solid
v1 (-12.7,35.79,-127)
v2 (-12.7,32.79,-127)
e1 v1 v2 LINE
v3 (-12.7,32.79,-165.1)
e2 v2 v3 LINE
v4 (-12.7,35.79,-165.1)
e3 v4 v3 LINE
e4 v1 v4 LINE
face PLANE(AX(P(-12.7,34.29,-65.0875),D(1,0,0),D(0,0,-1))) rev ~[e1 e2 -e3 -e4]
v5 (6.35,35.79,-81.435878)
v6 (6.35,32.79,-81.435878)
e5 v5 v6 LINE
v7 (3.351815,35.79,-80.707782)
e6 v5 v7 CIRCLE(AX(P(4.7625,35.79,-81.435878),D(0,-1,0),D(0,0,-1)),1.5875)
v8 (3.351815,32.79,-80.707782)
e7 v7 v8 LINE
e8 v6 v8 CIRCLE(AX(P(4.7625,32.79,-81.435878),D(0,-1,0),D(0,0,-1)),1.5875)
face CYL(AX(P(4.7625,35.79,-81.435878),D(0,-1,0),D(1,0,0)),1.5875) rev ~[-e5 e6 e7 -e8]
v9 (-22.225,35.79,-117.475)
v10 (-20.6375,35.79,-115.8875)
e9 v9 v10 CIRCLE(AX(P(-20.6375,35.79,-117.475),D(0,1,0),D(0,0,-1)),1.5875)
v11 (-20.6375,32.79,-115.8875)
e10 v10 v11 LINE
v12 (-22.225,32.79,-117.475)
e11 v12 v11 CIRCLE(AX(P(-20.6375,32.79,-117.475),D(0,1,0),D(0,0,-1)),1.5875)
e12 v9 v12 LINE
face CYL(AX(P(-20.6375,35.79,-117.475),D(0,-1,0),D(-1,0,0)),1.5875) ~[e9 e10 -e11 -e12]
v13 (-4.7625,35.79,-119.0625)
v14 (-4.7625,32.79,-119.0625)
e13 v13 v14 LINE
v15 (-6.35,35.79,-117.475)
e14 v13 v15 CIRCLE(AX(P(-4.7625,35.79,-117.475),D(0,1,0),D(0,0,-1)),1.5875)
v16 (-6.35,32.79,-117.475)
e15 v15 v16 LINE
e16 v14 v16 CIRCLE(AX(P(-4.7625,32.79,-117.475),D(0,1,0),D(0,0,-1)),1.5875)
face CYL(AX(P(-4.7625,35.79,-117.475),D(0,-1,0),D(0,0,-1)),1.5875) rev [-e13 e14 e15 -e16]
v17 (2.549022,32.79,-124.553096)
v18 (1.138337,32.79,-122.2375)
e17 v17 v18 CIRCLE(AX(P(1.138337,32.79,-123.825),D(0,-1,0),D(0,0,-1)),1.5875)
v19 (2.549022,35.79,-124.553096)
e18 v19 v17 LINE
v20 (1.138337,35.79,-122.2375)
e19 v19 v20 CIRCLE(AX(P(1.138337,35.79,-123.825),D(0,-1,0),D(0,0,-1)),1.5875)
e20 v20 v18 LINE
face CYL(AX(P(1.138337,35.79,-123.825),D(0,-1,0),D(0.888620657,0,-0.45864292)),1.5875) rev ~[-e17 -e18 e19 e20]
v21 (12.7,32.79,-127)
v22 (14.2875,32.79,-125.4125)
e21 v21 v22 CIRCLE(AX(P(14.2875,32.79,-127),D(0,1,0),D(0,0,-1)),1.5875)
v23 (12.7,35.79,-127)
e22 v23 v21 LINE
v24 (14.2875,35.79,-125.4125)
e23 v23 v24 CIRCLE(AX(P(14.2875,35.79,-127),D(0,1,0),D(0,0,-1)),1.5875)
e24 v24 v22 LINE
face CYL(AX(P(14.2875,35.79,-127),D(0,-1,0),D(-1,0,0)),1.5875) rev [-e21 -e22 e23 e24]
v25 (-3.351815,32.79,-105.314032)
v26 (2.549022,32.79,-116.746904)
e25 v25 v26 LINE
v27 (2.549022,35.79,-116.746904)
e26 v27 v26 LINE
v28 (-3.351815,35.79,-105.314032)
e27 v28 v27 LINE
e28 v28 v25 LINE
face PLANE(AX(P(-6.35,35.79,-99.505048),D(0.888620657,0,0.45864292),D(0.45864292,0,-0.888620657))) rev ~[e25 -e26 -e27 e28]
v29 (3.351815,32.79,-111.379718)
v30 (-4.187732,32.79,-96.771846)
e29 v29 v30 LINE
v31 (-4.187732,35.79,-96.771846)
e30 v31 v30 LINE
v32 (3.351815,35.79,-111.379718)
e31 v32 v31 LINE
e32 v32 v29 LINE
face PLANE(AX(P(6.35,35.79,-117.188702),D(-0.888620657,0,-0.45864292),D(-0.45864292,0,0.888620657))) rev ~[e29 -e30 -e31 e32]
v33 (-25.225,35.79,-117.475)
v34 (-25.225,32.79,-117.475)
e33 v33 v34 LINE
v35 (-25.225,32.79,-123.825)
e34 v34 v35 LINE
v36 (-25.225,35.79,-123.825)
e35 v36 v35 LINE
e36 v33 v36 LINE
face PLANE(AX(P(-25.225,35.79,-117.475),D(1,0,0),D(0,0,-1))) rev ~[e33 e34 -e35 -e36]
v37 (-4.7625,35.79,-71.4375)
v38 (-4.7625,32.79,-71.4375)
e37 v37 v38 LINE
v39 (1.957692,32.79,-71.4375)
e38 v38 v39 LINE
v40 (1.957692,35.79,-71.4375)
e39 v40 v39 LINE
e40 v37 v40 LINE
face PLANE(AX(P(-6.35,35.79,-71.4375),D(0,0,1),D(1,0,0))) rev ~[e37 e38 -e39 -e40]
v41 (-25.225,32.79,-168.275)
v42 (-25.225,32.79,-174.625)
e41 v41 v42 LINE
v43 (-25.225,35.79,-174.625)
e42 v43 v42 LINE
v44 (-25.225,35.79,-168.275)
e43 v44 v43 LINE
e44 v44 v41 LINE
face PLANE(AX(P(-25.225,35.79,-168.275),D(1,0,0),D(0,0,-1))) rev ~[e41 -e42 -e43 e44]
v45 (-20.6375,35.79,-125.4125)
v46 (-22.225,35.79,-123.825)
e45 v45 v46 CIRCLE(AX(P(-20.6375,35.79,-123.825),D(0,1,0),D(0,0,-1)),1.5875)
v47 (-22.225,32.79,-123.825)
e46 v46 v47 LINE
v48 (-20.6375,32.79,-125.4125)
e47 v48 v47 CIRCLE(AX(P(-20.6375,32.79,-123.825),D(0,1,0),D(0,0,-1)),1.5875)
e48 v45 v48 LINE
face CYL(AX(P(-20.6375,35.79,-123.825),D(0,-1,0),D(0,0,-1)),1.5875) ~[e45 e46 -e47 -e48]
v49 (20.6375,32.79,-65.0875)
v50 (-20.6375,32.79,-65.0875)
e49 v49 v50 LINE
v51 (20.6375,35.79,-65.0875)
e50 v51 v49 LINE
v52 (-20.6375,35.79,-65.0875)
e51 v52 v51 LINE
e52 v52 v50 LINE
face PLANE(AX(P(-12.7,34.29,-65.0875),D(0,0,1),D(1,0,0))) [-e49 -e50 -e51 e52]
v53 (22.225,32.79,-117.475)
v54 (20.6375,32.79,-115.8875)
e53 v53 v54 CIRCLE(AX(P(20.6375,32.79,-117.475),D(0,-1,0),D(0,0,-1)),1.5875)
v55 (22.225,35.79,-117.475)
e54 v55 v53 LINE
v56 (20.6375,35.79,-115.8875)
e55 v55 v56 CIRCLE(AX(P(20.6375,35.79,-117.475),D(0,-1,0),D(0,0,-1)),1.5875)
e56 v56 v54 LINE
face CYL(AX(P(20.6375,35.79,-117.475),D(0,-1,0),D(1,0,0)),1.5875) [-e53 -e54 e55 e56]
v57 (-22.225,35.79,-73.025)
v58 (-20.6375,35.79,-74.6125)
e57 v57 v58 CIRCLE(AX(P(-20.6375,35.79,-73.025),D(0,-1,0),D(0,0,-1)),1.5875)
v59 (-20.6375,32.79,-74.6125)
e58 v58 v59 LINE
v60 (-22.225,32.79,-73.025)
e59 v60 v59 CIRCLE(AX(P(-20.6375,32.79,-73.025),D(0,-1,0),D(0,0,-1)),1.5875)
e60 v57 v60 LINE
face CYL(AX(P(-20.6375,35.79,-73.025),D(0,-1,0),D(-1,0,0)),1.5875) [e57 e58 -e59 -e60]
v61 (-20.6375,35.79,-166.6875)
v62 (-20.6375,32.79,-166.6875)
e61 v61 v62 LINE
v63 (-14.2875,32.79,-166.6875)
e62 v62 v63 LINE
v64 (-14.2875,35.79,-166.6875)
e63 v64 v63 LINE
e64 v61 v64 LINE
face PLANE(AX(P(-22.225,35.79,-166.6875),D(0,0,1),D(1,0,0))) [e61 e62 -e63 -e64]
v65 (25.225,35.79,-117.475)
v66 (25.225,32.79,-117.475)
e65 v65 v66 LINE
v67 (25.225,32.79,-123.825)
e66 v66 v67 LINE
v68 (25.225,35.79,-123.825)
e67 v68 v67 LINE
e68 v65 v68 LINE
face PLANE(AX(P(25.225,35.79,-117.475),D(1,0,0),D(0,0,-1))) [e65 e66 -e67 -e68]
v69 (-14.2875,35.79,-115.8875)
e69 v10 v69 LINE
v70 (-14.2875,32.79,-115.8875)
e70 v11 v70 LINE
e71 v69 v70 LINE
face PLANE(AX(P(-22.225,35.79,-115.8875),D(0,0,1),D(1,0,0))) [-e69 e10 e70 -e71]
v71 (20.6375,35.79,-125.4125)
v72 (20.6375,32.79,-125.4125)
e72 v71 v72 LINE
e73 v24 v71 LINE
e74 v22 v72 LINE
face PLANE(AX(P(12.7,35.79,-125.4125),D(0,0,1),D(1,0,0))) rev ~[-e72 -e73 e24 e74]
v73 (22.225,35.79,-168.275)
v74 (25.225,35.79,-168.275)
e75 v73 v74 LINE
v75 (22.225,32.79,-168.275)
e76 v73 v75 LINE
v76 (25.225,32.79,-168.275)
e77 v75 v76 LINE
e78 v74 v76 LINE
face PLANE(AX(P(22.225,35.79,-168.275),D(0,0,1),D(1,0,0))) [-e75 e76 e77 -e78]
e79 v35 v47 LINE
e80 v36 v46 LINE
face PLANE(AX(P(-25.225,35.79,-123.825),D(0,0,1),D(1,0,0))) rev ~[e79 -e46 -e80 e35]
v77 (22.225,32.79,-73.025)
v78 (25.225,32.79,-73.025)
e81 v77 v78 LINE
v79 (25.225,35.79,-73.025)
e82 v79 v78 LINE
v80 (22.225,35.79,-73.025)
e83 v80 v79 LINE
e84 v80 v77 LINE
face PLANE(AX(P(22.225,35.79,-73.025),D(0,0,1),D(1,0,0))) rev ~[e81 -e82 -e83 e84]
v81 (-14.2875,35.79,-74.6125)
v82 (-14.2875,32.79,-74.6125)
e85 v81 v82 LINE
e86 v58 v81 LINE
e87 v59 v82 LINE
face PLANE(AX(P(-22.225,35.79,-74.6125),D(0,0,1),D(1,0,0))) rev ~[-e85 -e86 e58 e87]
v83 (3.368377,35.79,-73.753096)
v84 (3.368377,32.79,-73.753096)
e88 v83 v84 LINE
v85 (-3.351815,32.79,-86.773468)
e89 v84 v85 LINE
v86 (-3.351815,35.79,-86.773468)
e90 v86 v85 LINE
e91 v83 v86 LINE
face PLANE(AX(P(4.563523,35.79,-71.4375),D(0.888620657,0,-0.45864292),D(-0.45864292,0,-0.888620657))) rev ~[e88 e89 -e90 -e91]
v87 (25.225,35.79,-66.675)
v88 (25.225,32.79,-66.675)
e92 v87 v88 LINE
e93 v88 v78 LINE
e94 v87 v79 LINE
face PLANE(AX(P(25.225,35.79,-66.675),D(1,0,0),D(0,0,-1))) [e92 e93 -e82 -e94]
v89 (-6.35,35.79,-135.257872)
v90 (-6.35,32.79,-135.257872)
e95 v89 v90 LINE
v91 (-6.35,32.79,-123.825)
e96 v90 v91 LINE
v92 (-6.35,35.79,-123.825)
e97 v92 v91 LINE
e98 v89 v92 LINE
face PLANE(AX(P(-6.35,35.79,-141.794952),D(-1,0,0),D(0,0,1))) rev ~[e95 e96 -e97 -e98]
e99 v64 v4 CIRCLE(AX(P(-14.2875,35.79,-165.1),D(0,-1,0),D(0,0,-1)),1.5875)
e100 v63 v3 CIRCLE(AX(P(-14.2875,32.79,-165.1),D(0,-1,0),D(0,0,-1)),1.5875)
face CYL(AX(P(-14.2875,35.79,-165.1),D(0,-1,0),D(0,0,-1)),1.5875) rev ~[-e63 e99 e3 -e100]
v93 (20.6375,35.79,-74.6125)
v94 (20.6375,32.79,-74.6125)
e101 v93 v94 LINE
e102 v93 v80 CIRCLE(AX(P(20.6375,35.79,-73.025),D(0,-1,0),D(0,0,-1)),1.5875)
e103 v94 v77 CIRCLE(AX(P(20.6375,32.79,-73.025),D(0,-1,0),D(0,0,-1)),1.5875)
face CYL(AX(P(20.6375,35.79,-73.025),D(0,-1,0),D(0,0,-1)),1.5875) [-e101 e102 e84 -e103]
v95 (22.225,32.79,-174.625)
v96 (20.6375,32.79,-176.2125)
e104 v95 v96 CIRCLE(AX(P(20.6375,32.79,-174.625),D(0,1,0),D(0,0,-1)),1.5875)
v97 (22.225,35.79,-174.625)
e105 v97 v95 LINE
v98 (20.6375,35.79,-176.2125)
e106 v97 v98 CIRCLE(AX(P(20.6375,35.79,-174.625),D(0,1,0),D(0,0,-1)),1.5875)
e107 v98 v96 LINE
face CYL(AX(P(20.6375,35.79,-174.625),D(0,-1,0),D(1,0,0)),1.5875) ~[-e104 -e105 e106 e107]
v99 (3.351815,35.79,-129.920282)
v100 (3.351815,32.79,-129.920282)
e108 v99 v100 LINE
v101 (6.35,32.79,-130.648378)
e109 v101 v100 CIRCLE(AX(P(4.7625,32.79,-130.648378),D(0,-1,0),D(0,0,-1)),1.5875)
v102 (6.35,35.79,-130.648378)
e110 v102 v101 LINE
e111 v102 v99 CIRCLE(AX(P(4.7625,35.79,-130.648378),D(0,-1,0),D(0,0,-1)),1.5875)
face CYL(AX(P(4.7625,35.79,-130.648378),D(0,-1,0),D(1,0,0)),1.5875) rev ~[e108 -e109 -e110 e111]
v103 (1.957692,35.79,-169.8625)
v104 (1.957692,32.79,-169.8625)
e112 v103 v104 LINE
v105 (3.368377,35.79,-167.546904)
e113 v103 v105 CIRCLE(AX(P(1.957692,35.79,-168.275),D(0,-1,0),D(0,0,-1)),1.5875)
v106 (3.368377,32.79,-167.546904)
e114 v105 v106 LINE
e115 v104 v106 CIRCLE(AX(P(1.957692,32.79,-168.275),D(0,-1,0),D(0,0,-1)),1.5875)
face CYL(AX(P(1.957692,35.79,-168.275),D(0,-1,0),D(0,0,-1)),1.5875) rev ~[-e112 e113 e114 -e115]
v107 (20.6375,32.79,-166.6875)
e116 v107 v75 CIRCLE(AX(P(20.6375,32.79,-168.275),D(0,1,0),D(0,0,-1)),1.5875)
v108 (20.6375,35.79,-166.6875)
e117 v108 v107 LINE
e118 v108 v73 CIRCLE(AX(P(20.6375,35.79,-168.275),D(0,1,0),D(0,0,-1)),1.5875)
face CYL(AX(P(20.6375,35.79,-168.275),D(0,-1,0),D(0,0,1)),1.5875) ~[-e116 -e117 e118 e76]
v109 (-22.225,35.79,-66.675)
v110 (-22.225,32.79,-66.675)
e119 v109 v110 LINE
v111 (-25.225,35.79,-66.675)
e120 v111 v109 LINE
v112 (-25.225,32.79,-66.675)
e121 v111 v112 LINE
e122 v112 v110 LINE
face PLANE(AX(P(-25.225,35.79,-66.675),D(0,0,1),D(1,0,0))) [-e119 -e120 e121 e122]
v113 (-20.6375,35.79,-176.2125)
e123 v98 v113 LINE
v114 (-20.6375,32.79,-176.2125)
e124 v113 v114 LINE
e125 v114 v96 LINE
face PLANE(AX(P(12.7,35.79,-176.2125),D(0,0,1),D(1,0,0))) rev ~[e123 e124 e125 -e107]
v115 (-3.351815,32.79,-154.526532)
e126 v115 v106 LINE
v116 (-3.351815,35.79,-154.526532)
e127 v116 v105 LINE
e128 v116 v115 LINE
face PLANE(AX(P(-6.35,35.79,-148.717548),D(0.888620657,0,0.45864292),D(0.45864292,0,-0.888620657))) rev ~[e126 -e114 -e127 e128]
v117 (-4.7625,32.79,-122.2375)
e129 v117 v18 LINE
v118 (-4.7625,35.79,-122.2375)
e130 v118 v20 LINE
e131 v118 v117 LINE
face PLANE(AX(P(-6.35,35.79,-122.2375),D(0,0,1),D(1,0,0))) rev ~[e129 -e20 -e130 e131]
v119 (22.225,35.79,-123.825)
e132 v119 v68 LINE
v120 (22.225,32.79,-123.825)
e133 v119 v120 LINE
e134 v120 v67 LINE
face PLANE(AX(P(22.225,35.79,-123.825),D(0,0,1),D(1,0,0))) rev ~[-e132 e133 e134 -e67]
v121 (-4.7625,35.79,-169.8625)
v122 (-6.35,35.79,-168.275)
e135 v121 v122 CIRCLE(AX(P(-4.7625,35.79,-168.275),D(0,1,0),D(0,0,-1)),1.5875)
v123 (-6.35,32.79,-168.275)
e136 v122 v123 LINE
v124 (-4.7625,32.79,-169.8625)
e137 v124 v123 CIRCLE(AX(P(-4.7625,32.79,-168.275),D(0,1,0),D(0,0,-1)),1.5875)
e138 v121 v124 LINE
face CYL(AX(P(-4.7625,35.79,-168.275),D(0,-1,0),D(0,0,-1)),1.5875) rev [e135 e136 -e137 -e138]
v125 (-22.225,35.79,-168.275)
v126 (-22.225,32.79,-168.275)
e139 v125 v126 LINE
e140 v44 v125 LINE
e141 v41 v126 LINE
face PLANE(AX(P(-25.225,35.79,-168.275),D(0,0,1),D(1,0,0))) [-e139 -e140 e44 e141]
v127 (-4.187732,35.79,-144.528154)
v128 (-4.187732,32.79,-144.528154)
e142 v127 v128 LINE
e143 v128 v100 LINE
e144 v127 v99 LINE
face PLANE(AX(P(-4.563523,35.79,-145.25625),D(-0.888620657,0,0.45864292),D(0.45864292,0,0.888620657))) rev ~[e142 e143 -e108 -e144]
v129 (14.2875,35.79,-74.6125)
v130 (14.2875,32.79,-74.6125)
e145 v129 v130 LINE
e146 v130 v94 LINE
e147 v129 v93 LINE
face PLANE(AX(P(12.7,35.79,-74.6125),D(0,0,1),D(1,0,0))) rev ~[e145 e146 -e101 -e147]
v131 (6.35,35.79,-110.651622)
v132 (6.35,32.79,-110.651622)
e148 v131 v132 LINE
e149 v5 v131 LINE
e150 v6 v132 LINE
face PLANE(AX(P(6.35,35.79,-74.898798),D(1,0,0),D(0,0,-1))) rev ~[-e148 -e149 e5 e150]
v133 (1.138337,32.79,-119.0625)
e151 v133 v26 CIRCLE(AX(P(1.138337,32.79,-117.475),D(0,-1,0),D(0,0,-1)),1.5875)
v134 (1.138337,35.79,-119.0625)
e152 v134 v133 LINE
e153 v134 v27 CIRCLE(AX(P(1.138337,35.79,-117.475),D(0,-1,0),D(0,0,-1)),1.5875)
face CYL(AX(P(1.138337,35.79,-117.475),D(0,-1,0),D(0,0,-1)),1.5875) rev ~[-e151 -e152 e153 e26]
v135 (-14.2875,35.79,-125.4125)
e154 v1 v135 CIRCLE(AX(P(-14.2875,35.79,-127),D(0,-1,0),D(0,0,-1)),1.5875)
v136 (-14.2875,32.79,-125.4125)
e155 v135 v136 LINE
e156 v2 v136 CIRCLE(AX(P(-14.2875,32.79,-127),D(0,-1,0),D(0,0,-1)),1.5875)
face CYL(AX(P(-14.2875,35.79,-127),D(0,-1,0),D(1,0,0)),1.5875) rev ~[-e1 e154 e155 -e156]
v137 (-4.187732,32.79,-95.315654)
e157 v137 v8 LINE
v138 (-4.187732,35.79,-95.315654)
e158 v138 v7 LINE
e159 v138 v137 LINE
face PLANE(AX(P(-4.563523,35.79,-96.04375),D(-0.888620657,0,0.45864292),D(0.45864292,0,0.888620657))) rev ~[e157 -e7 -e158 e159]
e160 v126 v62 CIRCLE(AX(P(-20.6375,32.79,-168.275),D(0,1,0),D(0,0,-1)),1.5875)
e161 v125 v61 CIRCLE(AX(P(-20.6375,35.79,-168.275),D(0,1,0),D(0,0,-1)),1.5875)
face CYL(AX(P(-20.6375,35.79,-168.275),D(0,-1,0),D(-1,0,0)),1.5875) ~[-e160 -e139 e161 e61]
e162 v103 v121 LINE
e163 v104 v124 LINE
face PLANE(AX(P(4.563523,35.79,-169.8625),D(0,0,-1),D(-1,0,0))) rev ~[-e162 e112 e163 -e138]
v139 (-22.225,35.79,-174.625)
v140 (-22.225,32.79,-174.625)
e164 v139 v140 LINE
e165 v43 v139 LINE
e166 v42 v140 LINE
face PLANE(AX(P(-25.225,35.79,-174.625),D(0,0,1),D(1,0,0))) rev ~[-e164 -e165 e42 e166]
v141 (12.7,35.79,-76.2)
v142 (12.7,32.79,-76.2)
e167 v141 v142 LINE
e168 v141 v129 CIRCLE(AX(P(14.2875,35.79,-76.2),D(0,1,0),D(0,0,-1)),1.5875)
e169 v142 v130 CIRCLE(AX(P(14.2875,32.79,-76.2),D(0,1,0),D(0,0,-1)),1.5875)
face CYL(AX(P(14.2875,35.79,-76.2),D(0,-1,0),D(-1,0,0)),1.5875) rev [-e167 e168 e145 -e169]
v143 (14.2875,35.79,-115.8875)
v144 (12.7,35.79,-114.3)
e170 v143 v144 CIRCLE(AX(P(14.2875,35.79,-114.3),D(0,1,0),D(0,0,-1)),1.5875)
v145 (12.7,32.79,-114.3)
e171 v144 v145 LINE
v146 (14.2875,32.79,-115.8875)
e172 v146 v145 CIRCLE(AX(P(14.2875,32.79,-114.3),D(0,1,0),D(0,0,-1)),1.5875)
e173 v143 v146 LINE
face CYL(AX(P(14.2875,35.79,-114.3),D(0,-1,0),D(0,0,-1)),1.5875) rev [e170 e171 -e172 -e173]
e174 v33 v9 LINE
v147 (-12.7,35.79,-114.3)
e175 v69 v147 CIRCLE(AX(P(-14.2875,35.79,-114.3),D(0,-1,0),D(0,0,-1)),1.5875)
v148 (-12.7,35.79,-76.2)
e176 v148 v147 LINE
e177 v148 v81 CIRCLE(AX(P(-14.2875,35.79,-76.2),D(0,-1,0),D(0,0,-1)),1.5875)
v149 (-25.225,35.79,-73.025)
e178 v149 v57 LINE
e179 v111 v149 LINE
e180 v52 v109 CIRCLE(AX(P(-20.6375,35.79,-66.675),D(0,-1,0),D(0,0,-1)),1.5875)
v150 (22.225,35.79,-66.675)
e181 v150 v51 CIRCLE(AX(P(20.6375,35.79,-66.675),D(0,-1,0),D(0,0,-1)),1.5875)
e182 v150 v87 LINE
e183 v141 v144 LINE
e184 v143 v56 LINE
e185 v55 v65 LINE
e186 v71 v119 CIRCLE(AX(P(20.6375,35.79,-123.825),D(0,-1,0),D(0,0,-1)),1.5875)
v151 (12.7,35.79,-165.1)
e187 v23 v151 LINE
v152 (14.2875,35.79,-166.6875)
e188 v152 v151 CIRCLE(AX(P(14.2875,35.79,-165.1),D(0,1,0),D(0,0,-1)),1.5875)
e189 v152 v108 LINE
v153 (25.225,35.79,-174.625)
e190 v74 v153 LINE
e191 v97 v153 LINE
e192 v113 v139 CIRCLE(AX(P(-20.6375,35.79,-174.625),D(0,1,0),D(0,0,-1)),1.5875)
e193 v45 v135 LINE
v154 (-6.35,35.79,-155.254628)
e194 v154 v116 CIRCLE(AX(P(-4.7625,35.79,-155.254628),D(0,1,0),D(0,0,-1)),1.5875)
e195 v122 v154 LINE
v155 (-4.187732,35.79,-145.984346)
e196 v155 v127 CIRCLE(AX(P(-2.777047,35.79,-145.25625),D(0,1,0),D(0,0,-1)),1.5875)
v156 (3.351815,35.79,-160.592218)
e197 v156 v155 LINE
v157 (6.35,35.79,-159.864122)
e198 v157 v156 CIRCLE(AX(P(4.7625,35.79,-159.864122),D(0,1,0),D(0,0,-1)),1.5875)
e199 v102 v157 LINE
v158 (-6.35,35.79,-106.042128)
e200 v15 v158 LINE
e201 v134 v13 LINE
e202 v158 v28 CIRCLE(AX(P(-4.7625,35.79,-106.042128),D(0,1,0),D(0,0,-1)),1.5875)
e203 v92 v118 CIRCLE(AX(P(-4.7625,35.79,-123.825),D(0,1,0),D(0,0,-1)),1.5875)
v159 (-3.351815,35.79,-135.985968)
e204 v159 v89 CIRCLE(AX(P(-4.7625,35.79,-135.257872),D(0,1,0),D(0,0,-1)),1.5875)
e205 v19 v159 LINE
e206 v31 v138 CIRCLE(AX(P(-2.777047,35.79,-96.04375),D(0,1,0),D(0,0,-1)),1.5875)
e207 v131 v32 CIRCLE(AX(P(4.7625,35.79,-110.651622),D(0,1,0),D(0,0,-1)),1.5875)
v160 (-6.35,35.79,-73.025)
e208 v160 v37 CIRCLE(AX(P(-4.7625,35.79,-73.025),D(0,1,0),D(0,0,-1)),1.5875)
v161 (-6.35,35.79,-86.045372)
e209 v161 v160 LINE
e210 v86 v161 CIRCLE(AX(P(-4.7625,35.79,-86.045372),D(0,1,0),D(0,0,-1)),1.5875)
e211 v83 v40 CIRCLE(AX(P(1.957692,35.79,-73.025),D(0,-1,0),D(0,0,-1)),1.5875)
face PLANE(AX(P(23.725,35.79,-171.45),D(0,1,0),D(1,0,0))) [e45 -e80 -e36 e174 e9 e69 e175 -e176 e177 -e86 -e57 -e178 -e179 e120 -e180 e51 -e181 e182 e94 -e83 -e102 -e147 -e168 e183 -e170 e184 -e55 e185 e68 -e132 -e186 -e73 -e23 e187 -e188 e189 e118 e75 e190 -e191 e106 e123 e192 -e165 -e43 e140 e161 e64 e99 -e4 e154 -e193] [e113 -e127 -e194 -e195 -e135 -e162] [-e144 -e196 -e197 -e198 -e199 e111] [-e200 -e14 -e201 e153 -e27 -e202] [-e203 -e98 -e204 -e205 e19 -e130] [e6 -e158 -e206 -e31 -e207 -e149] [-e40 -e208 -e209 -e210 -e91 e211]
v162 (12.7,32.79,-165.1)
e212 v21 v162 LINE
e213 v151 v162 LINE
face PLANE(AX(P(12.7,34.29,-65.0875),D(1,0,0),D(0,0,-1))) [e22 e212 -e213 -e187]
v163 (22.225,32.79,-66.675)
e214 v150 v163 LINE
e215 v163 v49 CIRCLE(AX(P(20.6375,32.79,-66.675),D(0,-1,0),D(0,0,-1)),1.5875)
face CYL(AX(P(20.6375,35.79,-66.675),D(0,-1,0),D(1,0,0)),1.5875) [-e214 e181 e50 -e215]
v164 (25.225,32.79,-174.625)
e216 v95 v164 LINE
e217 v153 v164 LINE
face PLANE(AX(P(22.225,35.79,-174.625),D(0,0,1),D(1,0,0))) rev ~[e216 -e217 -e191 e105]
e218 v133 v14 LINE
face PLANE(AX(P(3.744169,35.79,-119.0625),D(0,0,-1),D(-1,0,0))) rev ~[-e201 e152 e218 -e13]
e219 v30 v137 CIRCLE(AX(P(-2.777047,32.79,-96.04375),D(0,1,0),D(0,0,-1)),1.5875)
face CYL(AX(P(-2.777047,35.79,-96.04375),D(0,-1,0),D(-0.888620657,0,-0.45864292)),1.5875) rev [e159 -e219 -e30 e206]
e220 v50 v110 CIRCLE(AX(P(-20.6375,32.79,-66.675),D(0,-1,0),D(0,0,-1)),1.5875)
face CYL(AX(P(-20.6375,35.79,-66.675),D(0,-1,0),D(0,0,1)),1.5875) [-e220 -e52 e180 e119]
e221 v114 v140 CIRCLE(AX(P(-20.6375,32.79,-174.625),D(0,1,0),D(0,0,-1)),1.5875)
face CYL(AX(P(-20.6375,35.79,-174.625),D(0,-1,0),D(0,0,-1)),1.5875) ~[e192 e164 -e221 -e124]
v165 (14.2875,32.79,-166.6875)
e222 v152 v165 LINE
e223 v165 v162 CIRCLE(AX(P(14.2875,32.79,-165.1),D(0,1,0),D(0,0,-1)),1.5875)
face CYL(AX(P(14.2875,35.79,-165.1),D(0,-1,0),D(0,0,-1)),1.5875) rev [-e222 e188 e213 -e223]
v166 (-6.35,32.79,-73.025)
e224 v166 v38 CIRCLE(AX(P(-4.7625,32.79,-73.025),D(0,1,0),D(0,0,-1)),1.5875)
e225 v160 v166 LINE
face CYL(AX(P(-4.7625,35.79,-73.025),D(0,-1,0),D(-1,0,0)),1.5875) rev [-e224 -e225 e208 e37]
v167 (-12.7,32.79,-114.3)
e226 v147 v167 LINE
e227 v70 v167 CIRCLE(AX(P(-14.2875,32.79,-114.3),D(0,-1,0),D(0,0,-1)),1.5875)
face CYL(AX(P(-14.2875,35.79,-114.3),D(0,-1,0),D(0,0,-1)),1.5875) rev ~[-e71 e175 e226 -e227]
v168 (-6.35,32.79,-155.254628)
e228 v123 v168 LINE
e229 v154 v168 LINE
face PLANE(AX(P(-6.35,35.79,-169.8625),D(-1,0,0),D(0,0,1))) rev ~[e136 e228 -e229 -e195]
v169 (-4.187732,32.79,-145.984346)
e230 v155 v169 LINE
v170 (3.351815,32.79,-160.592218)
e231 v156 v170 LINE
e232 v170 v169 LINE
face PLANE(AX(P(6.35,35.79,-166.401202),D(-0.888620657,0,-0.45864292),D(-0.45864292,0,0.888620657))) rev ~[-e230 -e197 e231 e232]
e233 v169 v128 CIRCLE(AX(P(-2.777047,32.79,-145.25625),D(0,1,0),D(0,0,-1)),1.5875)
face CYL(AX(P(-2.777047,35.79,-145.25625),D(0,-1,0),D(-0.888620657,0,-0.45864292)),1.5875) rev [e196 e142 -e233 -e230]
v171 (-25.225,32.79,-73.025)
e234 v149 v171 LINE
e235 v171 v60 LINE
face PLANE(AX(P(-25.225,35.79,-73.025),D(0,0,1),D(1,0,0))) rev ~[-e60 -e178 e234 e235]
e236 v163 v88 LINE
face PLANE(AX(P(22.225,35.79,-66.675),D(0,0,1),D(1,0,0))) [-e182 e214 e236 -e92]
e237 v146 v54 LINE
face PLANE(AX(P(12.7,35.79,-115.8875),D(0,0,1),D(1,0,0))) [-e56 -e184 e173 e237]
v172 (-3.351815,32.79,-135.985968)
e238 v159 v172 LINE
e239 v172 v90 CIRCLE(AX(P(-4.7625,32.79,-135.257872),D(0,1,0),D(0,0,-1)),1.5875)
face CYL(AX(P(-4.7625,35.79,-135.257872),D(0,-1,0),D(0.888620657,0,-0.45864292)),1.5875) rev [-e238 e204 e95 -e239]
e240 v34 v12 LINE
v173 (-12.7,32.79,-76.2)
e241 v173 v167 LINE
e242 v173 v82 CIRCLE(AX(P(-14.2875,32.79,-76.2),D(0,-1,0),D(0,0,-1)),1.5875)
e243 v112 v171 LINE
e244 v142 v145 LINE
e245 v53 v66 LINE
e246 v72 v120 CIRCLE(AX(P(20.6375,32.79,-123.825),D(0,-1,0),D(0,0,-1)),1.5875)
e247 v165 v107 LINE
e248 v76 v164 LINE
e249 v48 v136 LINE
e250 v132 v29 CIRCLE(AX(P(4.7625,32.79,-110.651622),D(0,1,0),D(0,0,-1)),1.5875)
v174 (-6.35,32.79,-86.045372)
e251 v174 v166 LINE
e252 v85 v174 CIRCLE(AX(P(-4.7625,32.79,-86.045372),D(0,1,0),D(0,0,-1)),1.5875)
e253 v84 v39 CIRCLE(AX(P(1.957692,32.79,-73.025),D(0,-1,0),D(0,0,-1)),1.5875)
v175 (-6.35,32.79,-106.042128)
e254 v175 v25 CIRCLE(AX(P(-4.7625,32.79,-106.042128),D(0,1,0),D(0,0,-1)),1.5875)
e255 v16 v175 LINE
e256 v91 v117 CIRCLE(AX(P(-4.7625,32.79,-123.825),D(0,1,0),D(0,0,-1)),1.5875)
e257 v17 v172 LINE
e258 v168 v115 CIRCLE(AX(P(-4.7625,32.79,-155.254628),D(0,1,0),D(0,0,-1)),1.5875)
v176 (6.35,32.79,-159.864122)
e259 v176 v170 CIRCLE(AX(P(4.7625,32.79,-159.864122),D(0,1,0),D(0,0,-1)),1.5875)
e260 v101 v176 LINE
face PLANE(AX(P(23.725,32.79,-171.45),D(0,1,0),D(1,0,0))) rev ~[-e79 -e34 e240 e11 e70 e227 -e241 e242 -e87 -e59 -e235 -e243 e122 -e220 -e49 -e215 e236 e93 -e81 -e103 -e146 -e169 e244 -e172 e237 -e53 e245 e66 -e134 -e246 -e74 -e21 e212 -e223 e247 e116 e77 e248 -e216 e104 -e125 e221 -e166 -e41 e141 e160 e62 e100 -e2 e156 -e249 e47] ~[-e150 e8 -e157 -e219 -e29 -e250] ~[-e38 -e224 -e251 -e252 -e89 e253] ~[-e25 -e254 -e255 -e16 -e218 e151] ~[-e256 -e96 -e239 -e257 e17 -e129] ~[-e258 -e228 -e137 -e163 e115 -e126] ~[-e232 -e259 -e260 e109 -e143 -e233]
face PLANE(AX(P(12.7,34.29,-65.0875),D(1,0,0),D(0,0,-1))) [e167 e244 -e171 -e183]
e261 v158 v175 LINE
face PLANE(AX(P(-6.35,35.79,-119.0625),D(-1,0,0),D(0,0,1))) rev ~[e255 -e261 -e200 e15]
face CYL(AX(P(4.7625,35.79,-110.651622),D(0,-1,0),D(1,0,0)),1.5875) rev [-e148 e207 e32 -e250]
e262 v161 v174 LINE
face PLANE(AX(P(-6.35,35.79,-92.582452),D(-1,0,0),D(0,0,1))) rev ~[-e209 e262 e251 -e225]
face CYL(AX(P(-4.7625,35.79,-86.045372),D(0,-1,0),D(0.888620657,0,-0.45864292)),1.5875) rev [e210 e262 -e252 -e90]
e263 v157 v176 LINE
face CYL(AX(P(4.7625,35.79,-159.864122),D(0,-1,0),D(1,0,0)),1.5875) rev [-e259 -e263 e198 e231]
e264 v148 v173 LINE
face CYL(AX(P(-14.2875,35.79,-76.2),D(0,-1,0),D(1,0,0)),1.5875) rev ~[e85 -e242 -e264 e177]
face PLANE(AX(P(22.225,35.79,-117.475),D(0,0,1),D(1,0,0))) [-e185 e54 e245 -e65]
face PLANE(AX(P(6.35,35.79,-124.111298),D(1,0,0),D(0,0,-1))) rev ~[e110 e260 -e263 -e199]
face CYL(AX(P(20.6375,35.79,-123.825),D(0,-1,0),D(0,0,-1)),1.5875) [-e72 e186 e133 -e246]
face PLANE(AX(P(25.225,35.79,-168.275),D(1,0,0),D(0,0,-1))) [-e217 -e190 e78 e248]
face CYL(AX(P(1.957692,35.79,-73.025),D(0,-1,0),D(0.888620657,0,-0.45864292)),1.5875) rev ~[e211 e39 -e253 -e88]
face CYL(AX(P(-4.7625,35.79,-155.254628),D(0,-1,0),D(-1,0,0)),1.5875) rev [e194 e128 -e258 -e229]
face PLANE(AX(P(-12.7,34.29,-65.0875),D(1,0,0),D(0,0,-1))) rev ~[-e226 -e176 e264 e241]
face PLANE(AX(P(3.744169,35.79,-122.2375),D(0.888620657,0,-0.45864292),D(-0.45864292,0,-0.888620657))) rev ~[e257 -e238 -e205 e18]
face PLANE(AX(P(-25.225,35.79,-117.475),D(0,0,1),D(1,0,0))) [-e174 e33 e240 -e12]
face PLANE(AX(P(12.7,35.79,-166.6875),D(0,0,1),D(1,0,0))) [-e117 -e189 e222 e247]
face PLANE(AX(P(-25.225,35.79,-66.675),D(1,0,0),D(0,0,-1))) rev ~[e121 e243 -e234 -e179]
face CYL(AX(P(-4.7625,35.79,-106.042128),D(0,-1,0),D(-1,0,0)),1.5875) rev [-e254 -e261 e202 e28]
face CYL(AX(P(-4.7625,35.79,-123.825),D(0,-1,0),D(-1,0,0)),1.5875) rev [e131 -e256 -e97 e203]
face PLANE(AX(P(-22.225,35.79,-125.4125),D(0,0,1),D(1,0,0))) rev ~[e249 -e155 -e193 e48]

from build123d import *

# Parameters (mm, degrees)
SKETCH1_W           = 25.4
SKETCH1_H           = 111.125
BOSS_EXTRUDE1_DEPTH = 1.5
SKETCH2_W           = 9.525
SKETCH2_H           = 9.525
BOSS_EXTRUDE2_DEPTH = 3
CUT_EXTRUDE1_DEPTH  = 178.633881287
FILLET1_R           = 1.5875
SKETCH5_W           = 3
SKETCH5_H           = 6.35
BOSS_EXTRUDE3_DEPTH = 3


with BuildPart() as part:
    # Sketch1 → Boss-Extrude1 (new, symmetric)
    with BuildSketch(Plane(origin=(0, 34.29, 0), x_dir=(1, 0, 0), z_dir=(0, 1, 0))):
        with Locations((0, 120.65)):
            Rectangle(SKETCH1_W, SKETCH1_H)
    extrude(amount=BOSS_EXTRUDE1_DEPTH, both=True)

    # Sketch2 → Boss-Extrude2 (add)
    with BuildSketch(Plane(origin=(0, 35.79, 0), x_dir=(1, 0, 0), z_dir=(0, 1, 0))):
        with Locations((17.4625, 171.45)):
            Rectangle(SKETCH2_W, SKETCH2_H)
        with Locations((-17.4625, 171.45)):
            Rectangle(SKETCH2_W, SKETCH2_H)
        with Locations((17.4625, 120.65)):
            Rectangle(SKETCH2_W, SKETCH2_H)
        with Locations((-17.4625, 120.65)):
            Rectangle(SKETCH2_W, SKETCH2_H)
        with Locations((17.4625, 69.85)):
            Rectangle(SKETCH2_W, SKETCH2_H)
        with Locations((-17.4625, 69.85)):
            Rectangle(SKETCH2_W, SKETCH2_H)
    extrude(amount=-BOSS_EXTRUDE2_DEPTH)

    # Sketch4 → Cut-Extrude1 (cut, through all)
    with BuildSketch(Plane(origin=(0, 35.79, 0), x_dir=(1, 0, 0), z_dir=(0, 1, 0))):
        Polygon((4.563523411, 71.4375), (-6.35, 92.58245161), (-6.35, 71.4375), align=None)
        Polygon((6.35, 74.89879839), (6.35, 117.18870161), (-4.563523411, 96.04375), align=None)
        Polygon((3.744168573, 119.0625), (-6.35, 119.0625), (-6.35, 99.50504839), align=None)
        Polygon((3.744168573, 122.2375), (-6.35, 141.79495161), (-6.35, 122.2375), align=None)
        Polygon((6.35, 124.11129839), (6.35, 166.40120161), (-4.563523411, 145.25625), align=None)
        Polygon((4.563523411, 169.8625), (-6.35, 169.8625), (-6.35, 148.71754839), align=None)
    extrude(amount=-CUT_EXTRUDE1_DEPTH, mode=Mode.SUBTRACT)

    # Fillet1
    fillet1_edges = [part.edges().sort_by_distance(p)[0] for p in [
        (3.744168573, 34.29, -119.0625),
        (-6.35, 34.29, -99.50504839),
        (-6.35, 34.29, -119.0625),
        (-4.563523411, 34.29, -96.04375),
        (6.35, 34.29, -117.18870161),
        (6.35, 34.29, -74.89879839),
        (-4.563523411, 34.29, -145.25625),
        (6.35, 34.29, -166.40120161),
        (6.35, 34.29, -124.11129839),
        (3.744168573, 34.29, -122.2375),
        (-6.35, 34.29, -122.2375),
        (-6.35, 34.29, -141.79495161),
        (-6.35, 34.29, -148.71754839),
        (-6.35, 34.29, -169.8625),
        (4.563523411, 34.29, -169.8625),
        (4.563523411, 34.29, -71.4375),
        (-6.35, 34.29, -71.4375),
        (-6.35, 34.29, -92.58245161),
        (22.225, 34.29, -65.0875),
        (22.225, 34.29, -74.6125),
        (12.7, 34.29, -74.6125),
        (-12.7, 34.29, -115.8875),
        (-12.7, 34.29, -125.4125),
        (-22.225, 34.29, -125.4125),
        (-22.225, 34.29, -115.8875),
        (22.225, 34.29, -115.8875),
        (22.225, 34.29, -125.4125),
        (12.7, 34.29, -125.4125),
        (12.7, 34.29, -115.8875),
        (-12.7, 34.29, -166.6875),
        (-22.225, 34.29, -176.2125),
        (-22.225, 34.29, -166.6875),
        (-12.7, 34.29, -74.6125),
        (-22.225, 34.29, -74.6125),
        (-22.225, 34.29, -65.0875),
        (22.225, 34.29, -166.6875),
        (22.225, 34.29, -176.2125),
        (12.7, 34.29, -166.6875),
    ]]
    fillet(fillet1_edges, radius=FILLET1_R)

    # Sketch5 → Boss-Extrude3 (add)
    with BuildSketch(Plane(origin=(0, 35.79, 0), x_dir=(1, 0, 0), z_dir=(0, 1, 0))):
        with Locations((23.725, 171.45)):
            Rectangle(SKETCH5_W, SKETCH5_H)
        with Locations((-23.725, 171.45)):
            Rectangle(SKETCH5_W, SKETCH5_H)
        with Locations((23.725, 120.65)):
            Rectangle(SKETCH5_W, SKETCH5_H)
        with Locations((-23.725, 120.65)):
            Rectangle(SKETCH5_W, SKETCH5_H)
        with Locations((23.725, 69.85)):
            Rectangle(SKETCH5_W, SKETCH5_H)
        with Locations((-23.725, 69.85)):
            Rectangle(SKETCH5_W, SKETCH5_H)
    extrude(amount=-BOSS_EXTRUDE3_DEPTH)


solid = part.part
